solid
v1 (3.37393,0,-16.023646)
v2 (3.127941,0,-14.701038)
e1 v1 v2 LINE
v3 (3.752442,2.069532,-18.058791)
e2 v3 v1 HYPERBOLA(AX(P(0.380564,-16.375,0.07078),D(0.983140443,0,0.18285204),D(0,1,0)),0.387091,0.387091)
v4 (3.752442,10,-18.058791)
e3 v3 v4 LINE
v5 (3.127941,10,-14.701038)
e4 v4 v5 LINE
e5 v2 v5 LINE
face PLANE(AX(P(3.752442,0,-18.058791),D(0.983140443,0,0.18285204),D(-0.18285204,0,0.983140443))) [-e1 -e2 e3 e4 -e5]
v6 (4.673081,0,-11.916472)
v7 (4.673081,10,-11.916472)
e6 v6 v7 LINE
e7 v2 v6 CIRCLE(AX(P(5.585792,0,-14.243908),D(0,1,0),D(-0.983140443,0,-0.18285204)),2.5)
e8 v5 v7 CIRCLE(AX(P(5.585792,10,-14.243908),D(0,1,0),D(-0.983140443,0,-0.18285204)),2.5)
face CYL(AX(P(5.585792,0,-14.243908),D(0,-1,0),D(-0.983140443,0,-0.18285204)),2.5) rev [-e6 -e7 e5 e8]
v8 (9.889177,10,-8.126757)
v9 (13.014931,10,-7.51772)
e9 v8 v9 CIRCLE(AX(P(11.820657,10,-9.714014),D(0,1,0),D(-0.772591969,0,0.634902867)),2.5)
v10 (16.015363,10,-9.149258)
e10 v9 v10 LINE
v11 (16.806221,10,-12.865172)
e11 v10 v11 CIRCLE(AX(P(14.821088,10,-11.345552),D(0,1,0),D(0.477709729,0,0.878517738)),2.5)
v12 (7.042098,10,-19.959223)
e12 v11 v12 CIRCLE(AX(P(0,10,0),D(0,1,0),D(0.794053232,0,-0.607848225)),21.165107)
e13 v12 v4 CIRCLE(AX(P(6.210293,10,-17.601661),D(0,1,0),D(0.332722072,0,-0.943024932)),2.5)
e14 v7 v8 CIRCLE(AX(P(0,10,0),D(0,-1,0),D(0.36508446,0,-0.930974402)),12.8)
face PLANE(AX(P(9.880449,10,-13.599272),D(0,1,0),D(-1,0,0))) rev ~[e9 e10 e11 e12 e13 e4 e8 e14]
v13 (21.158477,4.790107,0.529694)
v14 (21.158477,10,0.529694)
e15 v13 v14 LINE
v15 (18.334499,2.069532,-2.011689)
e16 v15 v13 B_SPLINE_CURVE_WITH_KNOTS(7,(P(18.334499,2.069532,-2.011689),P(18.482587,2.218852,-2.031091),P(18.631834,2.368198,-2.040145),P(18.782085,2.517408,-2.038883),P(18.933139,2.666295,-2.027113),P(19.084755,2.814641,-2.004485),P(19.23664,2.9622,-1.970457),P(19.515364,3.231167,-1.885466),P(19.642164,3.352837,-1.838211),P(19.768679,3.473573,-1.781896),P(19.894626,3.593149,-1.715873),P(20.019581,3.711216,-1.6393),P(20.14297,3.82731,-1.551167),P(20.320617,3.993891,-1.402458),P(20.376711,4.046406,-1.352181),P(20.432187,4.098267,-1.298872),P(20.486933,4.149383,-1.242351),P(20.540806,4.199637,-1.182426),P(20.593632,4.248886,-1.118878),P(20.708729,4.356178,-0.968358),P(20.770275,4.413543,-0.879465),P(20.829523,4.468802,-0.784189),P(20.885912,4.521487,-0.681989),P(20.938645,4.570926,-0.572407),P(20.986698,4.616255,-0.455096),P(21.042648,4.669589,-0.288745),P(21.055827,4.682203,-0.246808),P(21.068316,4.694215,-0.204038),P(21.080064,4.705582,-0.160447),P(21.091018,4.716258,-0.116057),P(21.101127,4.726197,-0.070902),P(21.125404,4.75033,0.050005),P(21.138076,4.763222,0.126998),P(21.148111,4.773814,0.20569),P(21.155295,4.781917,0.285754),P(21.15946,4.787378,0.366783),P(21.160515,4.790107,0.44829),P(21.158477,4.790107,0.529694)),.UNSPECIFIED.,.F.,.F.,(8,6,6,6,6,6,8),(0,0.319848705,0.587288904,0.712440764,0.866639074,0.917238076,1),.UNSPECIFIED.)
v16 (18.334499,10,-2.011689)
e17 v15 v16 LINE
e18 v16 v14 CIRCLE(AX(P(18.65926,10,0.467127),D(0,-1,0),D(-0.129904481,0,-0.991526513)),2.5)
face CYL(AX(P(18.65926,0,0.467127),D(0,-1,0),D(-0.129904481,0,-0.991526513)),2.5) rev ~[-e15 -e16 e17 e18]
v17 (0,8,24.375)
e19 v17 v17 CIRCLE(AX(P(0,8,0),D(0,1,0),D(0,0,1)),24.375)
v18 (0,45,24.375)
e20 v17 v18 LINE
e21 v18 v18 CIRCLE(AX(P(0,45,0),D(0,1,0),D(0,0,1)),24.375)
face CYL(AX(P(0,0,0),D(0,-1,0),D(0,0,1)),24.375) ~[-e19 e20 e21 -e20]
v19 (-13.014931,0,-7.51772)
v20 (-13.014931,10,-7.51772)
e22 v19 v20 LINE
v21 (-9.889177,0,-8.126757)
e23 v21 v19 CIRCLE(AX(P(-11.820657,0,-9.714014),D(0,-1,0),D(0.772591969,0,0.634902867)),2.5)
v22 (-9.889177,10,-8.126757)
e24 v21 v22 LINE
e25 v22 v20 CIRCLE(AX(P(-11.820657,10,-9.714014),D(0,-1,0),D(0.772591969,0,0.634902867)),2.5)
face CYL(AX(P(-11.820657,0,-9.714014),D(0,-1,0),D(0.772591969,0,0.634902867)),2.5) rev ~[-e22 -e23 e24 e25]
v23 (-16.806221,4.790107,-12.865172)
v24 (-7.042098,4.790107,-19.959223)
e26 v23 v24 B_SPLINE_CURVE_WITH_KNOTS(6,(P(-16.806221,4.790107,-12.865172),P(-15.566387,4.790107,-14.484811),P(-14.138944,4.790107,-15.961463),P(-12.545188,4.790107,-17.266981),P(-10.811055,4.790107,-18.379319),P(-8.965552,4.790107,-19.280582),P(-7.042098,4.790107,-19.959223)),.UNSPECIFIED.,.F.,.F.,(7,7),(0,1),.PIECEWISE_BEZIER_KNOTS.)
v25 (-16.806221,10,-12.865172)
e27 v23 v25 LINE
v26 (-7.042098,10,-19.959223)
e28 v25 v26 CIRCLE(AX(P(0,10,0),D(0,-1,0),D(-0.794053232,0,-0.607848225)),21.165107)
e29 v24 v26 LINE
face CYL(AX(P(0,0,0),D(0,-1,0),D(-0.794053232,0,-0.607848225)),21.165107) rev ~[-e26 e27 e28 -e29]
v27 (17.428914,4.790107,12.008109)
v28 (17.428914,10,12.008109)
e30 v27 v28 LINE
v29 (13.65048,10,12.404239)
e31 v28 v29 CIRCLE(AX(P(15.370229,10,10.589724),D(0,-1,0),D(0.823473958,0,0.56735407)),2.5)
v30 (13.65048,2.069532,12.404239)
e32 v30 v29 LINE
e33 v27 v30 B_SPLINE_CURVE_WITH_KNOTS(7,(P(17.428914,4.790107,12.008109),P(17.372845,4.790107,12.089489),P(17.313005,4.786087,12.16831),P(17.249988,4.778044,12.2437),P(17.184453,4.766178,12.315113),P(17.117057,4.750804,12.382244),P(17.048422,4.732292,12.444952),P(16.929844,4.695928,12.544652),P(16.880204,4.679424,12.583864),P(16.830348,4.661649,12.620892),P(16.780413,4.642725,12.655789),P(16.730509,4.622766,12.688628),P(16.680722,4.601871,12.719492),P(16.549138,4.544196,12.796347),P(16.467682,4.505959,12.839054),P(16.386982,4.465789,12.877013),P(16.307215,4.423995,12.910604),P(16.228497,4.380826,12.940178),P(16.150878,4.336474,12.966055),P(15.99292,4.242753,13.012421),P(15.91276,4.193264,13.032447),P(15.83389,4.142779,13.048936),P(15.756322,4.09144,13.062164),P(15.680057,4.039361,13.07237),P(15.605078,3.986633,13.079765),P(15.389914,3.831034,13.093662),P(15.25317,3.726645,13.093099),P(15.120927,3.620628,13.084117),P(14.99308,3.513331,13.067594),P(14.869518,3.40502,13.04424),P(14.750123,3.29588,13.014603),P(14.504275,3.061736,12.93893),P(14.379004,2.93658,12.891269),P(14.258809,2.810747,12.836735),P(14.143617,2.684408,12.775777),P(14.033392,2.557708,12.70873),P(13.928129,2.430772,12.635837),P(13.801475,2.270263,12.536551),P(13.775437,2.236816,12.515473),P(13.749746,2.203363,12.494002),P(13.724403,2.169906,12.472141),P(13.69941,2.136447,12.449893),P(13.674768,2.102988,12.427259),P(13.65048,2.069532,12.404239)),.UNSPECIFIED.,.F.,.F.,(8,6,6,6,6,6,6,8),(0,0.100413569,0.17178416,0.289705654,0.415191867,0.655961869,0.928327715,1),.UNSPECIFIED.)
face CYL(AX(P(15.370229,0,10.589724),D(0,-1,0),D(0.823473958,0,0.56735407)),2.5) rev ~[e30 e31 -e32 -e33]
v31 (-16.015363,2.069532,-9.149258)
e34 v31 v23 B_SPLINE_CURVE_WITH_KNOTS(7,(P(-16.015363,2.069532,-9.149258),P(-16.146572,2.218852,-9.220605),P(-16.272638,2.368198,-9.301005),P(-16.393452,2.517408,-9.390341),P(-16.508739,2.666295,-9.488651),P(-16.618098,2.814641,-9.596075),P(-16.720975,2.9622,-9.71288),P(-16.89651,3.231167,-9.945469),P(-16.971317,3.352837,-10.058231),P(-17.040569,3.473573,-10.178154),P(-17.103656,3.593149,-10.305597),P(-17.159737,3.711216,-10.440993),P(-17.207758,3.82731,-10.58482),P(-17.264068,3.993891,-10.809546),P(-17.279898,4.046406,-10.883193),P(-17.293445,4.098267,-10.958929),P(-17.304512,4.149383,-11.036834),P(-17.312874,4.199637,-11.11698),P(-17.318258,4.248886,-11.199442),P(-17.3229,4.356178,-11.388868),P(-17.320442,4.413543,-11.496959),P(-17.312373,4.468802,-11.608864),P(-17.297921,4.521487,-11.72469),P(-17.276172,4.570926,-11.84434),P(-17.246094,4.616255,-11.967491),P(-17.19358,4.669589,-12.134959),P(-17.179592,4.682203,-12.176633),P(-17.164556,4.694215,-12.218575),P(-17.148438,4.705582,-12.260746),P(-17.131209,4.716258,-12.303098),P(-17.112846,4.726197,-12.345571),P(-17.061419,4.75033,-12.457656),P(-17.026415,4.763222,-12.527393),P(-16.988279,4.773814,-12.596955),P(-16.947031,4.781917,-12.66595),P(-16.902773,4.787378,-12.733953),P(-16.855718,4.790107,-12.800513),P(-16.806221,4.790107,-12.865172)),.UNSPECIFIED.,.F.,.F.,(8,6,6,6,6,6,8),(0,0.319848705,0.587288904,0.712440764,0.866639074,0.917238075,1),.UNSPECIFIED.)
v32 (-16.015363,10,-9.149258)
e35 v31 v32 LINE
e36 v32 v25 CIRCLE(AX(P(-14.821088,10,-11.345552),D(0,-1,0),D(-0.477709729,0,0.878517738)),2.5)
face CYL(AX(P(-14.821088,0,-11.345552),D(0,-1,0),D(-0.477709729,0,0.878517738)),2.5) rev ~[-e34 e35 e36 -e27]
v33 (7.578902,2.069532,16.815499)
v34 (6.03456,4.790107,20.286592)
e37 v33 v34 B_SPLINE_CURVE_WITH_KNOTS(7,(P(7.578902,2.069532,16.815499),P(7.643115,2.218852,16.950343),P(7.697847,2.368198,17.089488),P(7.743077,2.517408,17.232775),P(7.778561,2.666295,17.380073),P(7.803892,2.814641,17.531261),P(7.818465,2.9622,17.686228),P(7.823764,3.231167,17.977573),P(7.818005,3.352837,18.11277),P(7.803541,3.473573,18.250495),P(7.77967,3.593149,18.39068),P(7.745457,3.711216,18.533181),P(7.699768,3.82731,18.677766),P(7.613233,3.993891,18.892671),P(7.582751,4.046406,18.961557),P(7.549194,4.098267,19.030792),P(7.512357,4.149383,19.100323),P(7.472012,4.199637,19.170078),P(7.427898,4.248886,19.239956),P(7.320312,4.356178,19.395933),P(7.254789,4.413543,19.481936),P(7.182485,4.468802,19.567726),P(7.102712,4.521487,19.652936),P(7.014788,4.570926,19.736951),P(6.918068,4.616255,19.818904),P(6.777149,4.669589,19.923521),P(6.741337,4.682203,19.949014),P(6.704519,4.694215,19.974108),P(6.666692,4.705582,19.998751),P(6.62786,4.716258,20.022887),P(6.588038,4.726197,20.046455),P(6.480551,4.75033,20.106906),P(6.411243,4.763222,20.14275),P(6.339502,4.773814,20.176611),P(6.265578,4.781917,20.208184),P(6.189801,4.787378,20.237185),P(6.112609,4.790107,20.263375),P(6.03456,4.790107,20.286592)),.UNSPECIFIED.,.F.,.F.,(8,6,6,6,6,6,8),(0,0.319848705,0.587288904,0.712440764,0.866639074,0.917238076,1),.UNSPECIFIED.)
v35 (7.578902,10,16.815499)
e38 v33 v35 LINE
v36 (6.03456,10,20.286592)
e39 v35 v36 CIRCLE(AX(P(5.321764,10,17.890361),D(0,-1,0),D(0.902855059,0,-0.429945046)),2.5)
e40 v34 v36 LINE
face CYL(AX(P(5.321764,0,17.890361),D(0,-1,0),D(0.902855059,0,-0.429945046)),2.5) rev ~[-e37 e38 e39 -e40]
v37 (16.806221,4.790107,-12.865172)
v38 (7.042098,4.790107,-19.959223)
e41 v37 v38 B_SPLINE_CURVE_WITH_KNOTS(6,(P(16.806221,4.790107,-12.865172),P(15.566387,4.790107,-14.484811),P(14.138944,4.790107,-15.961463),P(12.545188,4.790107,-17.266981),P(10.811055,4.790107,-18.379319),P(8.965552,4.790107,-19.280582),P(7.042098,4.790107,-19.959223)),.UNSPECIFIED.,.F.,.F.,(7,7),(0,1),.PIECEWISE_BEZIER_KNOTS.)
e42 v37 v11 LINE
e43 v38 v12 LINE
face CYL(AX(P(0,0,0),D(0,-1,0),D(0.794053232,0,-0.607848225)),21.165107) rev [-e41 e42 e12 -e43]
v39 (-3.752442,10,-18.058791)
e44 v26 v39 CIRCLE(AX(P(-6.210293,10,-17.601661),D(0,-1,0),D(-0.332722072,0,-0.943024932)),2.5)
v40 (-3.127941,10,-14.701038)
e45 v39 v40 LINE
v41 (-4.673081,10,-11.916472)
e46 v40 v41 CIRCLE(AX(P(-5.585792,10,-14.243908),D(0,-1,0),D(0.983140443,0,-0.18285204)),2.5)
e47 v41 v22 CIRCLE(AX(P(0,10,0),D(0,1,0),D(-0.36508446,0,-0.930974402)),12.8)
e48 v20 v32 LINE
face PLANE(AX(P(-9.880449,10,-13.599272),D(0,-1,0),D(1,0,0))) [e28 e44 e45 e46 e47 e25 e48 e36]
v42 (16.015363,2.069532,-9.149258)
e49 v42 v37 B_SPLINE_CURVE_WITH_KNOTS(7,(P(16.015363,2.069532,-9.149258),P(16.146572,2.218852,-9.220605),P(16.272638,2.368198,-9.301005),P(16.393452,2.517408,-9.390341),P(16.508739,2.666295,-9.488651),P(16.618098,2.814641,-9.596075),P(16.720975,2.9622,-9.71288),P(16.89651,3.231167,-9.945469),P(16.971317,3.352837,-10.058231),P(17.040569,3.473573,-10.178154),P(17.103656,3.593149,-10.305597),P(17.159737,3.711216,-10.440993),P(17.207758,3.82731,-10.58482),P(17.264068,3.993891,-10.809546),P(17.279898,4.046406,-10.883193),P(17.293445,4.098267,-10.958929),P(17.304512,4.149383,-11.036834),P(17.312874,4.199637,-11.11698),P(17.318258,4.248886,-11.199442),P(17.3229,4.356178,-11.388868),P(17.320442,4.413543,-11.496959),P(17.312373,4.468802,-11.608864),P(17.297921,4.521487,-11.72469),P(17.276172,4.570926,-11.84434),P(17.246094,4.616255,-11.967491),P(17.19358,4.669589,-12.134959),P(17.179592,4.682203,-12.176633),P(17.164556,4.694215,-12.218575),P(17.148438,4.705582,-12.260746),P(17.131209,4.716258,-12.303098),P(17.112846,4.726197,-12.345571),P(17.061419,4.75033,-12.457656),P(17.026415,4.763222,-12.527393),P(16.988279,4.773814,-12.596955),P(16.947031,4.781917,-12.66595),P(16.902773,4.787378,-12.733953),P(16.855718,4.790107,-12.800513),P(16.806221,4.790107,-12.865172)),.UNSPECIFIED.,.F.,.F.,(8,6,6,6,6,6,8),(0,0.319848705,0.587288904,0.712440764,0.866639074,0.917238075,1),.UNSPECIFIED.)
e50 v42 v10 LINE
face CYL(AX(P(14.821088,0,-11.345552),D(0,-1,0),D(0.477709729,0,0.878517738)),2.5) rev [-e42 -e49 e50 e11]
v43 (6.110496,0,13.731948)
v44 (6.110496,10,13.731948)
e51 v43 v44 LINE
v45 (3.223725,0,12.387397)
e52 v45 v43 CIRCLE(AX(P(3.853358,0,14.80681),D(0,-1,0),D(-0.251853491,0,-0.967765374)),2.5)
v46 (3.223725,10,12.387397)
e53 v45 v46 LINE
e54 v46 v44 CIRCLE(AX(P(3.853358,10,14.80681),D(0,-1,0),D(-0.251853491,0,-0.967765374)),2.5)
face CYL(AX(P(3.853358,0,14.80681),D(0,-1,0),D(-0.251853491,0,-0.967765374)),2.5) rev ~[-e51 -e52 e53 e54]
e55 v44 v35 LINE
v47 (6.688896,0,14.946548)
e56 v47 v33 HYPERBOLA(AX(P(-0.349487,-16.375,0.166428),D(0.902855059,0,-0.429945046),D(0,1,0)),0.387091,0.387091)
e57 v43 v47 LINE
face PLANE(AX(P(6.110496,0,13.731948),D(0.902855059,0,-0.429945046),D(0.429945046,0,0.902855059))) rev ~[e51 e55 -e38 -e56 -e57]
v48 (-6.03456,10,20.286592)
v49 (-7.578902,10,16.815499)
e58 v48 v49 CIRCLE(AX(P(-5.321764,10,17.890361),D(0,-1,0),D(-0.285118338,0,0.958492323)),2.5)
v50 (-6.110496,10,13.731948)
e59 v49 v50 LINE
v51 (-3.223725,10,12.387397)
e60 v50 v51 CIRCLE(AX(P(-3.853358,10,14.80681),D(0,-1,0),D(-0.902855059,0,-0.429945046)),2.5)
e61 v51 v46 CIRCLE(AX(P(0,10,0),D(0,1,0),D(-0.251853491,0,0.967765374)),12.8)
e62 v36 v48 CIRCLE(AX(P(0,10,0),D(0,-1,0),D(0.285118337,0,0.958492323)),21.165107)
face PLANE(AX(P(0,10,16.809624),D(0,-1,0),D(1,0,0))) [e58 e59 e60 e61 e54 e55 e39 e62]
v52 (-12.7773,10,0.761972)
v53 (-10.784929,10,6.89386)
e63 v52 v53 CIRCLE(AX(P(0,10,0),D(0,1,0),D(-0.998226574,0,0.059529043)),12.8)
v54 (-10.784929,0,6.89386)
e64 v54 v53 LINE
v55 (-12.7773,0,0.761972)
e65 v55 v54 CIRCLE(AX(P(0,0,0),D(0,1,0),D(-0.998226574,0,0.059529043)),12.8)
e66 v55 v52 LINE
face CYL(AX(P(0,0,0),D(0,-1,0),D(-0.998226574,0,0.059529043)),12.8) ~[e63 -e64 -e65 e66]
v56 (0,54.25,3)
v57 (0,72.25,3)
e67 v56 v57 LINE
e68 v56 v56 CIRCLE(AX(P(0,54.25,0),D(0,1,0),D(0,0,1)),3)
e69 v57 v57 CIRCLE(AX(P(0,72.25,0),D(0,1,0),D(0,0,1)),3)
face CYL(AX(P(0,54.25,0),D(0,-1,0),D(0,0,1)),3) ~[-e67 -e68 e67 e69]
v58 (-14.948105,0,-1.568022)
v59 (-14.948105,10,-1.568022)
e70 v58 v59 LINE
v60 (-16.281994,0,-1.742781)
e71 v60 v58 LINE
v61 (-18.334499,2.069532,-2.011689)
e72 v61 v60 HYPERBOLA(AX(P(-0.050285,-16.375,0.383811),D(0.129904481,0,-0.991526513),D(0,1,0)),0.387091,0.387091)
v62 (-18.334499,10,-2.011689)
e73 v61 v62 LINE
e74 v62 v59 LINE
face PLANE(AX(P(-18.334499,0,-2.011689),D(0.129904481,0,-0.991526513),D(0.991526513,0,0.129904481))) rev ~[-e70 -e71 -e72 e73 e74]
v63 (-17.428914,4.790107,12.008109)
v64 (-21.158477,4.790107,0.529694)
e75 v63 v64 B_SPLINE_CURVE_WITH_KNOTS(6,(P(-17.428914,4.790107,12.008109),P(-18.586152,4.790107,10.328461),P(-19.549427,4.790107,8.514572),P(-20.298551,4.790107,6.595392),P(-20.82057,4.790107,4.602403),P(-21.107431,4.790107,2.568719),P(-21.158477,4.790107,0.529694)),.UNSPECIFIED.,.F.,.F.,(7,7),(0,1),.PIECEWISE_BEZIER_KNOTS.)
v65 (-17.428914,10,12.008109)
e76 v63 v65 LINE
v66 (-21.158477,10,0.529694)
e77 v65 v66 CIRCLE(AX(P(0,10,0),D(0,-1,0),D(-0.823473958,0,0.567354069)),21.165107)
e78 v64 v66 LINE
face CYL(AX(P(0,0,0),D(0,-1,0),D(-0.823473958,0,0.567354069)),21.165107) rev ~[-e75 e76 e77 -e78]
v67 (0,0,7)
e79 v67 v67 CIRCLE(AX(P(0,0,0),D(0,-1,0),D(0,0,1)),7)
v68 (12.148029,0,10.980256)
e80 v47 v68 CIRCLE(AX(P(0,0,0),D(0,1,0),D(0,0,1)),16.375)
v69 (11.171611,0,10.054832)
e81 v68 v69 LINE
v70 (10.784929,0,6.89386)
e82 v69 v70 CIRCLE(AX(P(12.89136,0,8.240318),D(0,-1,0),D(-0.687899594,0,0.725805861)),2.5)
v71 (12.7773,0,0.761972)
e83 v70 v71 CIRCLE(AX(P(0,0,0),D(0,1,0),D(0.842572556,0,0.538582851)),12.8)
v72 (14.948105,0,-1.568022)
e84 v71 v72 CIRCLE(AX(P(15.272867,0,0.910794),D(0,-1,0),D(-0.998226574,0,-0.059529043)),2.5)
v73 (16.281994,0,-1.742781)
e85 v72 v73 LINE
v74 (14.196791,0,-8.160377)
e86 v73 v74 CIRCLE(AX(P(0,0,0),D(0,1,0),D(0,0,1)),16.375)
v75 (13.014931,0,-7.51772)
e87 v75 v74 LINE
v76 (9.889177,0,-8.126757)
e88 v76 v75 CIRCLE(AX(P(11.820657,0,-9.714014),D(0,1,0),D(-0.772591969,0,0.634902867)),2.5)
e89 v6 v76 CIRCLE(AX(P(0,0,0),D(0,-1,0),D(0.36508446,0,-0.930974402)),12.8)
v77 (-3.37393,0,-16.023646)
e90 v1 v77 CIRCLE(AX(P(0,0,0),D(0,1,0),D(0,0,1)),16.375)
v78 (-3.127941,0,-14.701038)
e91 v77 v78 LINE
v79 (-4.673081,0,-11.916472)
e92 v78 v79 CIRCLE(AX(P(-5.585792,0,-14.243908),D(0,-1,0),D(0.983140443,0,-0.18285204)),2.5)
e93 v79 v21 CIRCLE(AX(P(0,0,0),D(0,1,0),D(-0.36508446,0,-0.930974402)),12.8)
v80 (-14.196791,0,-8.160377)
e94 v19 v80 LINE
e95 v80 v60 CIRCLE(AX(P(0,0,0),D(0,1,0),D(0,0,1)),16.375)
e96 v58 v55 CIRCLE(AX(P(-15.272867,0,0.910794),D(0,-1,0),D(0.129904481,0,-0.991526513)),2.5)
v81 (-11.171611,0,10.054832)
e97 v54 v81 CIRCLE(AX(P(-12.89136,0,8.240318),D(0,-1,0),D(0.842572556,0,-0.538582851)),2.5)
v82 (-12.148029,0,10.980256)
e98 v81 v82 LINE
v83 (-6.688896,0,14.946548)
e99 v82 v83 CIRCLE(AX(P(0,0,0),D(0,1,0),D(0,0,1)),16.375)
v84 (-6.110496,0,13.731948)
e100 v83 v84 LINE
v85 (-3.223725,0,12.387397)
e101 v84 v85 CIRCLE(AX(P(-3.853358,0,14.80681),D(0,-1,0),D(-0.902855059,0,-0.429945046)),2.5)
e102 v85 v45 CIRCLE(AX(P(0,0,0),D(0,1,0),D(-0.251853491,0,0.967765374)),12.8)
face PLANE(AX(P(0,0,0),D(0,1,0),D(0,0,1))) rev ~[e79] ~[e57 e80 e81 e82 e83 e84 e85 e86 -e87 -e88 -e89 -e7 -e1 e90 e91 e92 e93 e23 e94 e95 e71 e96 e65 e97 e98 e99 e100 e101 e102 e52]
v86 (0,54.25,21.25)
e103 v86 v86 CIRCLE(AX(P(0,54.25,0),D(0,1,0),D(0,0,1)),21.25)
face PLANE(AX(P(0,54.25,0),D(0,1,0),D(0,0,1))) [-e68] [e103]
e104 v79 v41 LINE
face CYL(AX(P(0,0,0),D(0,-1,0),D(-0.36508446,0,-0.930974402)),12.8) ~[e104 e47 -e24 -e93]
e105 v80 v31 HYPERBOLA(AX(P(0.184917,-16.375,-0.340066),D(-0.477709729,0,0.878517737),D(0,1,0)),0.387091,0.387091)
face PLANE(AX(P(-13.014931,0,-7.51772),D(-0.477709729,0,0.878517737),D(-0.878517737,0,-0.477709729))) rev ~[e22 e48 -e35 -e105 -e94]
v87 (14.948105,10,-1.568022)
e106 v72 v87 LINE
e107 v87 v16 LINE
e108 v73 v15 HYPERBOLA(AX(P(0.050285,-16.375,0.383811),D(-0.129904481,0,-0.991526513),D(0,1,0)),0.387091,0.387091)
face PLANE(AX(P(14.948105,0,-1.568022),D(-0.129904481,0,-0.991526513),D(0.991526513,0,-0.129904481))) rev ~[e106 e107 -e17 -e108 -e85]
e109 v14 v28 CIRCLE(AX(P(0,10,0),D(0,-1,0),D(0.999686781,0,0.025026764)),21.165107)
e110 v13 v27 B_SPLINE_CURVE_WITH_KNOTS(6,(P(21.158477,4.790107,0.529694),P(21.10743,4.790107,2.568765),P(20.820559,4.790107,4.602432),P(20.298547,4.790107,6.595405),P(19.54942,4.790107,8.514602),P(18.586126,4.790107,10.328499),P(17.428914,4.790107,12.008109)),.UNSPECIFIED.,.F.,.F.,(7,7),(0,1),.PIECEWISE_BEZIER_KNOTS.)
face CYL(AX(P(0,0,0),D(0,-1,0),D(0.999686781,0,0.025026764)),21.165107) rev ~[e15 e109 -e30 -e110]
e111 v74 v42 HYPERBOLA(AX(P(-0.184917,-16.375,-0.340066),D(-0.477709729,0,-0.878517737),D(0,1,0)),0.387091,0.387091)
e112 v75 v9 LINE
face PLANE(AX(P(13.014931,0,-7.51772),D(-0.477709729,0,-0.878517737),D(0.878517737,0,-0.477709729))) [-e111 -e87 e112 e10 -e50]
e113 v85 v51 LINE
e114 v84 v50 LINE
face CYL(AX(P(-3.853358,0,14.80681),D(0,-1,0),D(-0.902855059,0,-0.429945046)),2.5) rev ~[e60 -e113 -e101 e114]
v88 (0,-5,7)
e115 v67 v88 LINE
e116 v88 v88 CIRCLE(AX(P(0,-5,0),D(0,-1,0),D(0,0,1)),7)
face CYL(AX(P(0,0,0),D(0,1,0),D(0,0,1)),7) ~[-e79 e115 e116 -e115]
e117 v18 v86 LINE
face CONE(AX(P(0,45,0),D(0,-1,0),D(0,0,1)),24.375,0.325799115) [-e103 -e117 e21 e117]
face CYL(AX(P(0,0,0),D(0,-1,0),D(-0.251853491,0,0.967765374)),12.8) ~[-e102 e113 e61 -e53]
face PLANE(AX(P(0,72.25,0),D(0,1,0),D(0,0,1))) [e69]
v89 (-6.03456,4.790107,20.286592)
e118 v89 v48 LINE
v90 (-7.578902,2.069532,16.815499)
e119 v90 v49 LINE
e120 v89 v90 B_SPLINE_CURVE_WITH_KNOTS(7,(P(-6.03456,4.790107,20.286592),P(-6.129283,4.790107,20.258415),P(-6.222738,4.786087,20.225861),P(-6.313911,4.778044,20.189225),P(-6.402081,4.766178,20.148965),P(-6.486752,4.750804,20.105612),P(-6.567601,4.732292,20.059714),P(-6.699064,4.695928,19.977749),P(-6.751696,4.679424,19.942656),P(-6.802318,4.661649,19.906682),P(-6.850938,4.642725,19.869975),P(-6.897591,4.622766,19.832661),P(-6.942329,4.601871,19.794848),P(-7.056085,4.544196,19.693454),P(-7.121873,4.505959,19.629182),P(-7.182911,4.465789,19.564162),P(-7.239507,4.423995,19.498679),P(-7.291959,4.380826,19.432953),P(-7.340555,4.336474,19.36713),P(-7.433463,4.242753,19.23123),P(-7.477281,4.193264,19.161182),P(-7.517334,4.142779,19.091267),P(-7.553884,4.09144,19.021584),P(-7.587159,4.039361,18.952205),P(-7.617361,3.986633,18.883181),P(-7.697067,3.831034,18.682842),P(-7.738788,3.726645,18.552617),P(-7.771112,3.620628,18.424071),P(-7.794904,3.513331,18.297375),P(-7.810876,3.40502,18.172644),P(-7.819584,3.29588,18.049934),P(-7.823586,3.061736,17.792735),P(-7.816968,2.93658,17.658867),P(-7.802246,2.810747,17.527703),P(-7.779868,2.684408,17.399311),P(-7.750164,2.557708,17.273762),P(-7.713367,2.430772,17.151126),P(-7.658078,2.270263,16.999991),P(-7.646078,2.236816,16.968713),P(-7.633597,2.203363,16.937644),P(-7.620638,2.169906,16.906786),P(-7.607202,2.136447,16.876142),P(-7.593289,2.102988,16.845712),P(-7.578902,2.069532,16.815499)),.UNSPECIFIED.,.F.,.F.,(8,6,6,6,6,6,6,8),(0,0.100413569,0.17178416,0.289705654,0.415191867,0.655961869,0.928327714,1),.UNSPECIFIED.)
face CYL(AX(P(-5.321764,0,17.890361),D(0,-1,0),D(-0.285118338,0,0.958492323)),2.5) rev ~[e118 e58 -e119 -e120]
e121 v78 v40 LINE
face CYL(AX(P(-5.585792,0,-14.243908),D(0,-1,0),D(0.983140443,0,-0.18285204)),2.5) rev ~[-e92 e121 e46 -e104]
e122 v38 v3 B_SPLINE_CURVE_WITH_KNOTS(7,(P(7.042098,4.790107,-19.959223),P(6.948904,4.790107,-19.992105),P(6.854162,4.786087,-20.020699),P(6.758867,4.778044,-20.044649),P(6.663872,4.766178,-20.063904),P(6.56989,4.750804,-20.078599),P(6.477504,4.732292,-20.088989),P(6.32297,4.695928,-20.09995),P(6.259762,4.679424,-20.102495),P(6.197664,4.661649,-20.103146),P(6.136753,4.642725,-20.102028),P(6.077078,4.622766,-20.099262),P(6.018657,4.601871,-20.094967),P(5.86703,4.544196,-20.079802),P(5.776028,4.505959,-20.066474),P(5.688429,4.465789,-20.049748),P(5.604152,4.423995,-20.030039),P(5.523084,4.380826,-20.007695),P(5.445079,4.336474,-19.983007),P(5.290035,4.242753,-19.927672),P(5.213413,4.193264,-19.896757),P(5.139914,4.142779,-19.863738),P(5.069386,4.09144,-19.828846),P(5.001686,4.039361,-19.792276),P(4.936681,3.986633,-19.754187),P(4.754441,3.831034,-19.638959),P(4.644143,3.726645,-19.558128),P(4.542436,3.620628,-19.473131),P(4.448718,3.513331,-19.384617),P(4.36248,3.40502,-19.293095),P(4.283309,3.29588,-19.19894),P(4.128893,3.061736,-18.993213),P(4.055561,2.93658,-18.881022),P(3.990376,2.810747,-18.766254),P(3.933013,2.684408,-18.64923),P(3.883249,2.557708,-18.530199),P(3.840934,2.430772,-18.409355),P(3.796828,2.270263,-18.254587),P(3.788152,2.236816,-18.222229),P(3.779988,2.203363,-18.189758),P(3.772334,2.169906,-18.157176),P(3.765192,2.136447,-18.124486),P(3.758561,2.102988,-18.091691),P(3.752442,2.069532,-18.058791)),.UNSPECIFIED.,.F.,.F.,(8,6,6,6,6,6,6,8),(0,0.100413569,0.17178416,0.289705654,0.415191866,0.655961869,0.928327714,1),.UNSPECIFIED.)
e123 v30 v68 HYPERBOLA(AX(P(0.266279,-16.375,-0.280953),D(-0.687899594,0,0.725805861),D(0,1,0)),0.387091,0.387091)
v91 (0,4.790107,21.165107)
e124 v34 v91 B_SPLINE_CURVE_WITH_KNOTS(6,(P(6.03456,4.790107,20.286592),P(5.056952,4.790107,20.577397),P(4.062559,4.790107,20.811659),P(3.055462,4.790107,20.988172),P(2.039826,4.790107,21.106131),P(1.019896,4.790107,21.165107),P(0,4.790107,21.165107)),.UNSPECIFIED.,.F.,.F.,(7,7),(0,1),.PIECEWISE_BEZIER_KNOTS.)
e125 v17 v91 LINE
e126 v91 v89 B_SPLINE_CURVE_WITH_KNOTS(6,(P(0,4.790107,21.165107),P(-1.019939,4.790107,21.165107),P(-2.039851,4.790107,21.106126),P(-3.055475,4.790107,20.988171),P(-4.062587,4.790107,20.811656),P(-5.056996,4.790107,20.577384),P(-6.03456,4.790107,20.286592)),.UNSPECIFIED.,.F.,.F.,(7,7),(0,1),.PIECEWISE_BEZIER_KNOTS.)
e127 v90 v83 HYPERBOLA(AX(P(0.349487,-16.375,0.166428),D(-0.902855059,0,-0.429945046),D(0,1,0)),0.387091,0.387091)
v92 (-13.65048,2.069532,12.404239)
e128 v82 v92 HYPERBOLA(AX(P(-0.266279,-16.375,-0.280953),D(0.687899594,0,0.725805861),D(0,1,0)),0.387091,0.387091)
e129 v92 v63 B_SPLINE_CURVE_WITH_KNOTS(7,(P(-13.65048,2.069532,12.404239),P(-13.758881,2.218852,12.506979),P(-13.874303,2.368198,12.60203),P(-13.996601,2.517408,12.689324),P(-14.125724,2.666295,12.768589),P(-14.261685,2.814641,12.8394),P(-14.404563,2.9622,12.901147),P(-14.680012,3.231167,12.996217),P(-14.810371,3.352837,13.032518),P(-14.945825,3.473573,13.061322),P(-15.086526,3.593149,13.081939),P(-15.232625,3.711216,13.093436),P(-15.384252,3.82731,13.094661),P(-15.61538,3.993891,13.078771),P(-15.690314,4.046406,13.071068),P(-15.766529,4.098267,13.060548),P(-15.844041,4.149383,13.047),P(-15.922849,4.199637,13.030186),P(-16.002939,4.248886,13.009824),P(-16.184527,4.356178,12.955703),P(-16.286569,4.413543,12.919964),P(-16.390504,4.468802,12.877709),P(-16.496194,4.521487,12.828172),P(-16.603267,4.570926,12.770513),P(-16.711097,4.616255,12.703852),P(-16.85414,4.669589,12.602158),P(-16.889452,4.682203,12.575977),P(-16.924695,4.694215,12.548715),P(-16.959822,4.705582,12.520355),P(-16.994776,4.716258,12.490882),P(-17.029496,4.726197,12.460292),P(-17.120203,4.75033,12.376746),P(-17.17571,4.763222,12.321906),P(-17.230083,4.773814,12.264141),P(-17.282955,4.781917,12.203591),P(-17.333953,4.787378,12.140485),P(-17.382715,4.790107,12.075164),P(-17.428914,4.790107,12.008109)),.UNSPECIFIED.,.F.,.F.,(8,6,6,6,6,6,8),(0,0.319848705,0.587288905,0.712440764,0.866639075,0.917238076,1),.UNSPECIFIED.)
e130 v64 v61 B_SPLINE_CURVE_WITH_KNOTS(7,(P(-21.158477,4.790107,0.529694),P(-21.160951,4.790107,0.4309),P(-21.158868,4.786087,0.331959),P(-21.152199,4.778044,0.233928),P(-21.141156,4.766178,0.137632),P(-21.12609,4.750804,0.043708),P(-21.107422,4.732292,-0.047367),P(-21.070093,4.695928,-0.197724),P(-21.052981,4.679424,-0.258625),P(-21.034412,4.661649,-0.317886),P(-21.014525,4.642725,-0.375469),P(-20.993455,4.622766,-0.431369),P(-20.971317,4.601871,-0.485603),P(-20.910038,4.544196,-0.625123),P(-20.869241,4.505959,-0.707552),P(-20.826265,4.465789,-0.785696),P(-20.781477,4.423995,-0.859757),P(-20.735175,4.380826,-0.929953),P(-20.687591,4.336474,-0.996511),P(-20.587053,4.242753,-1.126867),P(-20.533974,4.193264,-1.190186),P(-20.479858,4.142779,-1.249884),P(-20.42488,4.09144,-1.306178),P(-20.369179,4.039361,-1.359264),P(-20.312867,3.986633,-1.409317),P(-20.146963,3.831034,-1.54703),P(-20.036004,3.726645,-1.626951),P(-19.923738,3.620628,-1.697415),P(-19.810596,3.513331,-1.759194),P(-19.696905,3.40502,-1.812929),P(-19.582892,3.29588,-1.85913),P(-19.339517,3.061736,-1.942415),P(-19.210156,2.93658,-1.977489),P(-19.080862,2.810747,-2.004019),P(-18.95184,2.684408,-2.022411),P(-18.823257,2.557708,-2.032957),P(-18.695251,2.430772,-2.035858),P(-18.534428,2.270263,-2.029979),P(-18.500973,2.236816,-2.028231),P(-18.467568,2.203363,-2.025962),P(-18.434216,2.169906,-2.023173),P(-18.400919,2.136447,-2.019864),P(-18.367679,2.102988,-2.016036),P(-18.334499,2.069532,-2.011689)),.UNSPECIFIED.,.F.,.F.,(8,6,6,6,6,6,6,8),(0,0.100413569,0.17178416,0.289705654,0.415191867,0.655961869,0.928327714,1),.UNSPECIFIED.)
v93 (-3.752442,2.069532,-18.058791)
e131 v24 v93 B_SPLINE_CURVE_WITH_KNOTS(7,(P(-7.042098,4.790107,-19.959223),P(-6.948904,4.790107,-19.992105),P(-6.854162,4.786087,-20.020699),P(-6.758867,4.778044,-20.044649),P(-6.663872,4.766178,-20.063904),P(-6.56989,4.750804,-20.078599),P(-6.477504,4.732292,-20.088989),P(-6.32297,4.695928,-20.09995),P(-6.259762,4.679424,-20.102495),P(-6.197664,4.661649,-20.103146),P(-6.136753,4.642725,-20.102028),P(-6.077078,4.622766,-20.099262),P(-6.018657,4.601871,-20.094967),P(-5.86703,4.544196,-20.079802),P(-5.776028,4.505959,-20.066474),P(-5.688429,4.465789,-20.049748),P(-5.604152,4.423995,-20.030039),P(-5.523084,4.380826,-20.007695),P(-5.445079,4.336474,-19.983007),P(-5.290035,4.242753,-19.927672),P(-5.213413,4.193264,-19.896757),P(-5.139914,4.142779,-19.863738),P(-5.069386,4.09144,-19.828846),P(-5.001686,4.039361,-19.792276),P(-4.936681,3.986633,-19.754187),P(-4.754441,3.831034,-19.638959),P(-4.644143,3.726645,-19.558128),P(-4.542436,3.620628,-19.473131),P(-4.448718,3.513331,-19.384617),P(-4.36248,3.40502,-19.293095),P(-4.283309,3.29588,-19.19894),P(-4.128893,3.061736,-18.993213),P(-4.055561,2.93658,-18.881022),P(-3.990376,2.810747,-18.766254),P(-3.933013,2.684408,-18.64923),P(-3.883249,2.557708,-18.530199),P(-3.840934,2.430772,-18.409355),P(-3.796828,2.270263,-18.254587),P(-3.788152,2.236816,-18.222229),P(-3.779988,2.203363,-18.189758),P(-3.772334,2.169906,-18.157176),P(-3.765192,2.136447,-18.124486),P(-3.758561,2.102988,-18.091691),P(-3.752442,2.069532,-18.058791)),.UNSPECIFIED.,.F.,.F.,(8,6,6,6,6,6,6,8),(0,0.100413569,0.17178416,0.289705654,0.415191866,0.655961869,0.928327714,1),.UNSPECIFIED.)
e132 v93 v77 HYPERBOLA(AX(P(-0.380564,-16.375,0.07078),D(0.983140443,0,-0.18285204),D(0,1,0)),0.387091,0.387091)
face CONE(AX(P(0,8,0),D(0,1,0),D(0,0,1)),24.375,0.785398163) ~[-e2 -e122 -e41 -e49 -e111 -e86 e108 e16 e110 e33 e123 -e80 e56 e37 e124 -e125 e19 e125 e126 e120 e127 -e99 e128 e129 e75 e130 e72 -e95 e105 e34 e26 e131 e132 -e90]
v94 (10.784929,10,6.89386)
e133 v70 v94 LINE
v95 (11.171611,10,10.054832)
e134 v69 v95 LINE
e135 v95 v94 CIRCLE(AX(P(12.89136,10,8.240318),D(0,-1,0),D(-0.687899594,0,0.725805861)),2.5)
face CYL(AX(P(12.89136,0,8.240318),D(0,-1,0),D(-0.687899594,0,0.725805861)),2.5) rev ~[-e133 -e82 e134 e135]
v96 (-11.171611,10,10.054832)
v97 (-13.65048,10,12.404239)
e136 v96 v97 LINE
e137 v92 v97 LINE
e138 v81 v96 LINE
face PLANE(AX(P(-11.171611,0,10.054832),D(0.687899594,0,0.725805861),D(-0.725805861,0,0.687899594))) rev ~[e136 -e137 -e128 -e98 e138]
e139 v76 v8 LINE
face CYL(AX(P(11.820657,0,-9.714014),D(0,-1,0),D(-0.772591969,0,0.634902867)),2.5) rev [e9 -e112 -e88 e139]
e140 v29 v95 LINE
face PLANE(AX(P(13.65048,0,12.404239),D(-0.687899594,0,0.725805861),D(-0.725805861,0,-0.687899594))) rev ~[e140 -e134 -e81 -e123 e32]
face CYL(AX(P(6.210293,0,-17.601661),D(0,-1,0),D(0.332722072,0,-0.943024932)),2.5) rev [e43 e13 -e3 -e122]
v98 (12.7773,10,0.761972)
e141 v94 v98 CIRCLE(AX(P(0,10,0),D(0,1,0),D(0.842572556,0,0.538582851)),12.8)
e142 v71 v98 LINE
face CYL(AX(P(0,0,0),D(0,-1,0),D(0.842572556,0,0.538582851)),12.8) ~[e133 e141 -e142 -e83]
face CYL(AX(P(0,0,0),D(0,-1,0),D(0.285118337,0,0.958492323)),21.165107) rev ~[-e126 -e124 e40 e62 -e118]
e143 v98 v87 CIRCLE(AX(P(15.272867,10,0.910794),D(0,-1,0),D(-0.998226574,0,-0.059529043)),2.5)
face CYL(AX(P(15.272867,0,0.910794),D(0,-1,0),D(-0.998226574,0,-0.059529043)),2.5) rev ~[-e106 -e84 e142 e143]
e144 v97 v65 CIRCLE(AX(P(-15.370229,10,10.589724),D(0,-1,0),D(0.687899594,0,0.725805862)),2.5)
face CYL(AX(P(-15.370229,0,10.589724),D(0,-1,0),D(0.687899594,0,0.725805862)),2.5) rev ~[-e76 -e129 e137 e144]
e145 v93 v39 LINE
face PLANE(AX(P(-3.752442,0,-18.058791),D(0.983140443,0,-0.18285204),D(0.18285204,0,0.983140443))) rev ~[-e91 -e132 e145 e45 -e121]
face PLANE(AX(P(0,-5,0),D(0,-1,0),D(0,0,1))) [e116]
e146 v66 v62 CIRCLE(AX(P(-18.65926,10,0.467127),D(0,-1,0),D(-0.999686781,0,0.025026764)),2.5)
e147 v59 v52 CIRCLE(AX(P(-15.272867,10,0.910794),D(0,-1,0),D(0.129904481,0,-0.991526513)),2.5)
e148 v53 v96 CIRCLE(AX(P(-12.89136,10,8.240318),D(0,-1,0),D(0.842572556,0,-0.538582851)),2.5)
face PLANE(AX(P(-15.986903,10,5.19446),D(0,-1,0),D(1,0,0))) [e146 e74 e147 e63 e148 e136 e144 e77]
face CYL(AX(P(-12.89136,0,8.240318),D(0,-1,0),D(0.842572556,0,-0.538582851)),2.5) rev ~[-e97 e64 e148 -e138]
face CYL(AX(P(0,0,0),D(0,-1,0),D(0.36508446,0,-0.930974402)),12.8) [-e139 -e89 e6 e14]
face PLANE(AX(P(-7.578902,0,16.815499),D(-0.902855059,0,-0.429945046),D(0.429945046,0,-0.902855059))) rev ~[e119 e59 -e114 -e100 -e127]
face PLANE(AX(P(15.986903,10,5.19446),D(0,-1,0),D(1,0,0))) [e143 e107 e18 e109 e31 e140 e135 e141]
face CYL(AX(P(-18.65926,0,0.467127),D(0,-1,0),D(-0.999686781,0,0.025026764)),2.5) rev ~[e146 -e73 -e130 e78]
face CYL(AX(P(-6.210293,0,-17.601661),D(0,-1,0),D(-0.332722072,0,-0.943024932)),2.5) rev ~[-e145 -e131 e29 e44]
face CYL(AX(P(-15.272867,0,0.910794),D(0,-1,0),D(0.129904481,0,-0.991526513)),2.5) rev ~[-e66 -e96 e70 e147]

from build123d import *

# Parameters (mm, degrees)
SKETCH1_R           = 24.375
BOSS_EXTRUDE1_DEPTH = 54.25
CHAMFER1_SIZE       = 9.25
CHAMFER1_SIZE2      = 3.125
CHAMFER2_SIZE       = 8
CUT_EXTRUDE1_DEPTH  = 10
SKETCH3_R           = 7
BOSS_EXTRUDE2_DEPTH = 5
SKETCH4_R           = 3
BOSS_EXTRUDE3_DEPTH = 18


with BuildPart() as part:
    # Sketch1 → Boss-Extrude1 (new body)
    with BuildSketch(Plane(origin=(0, 0, 0), x_dir=(1, 0, 0), z_dir=(0, 1, 0))):
        with Locations(Location((0, 0, 0), (0, 0, 270))):
            Circle(SKETCH1_R)
    extrude(amount=BOSS_EXTRUDE1_DEPTH)

    # Chamfer1
    chamfer1_edges = [part.edges().sort_by_distance(p)[0] for p in [
        (0, 54.25, -24.375),
    ]]
    chamfer1_side = [part.faces().sort_by_distance(p)[0] for p in [
        (0, 27.125, -24.375),
    ]]
    chamfer(chamfer1_edges, length=CHAMFER1_SIZE, length2=CHAMFER1_SIZE2, reference=chamfer1_side[0])

    # Chamfer2
    chamfer2_edges = [part.edges().sort_by_distance(p)[0] for p in [
        (0, 0, -24.375),
    ]]
    chamfer(chamfer2_edges, length=CHAMFER2_SIZE)

    # Sketch2 → Cut-Extrude1 (cut)
    with BuildSketch(Plane.XZ):
        with BuildLine():
            Line((-3.752441842, -18.058791036), (-3.127941128, -14.70103845))
            ThreePointArc((-3.127941128, -14.70103845), (-3.399785699, -13.030905705), (-4.673081087, -11.916472345))
            ThreePointArc((-4.673081087, -11.916472345), (-7.523651229, -10.355417528), (-9.889177203, -8.126756686))
            ThreePointArc((-9.889177203, -8.126756686), (-11.342536225, -7.260159658), (-13.014931448, -7.517719508))
            Line((-13.014931448, -7.517719508), (-16.015362591, -9.149257594))
            ThreePointArc((-16.015362591, -9.149257594), (-17.266321132, -10.825132639), (-16.80622135, -12.865172499))
            ThreePointArc((-16.80622135, -12.865172499), (-12.440537552, -17.122930967), (-7.04209813, -19.959223267))
            ThreePointArc((-7.04209813, -19.959223267), (-4.959726276, -19.766397177), (-3.752441842, -18.058791036))
        make_face()
        with BuildLine():
            Line((-18.33449919, -2.011689062), (-14.94810538, -1.568021924))
            ThreePointArc((-14.94810538, -1.568021924), (-13.443719342, -0.793382972), (-12.777300147, 0.761971751))
            ThreePointArc((-12.777300147, 0.761971751), (-12.173523409, 3.955417528), (-10.784928719, 6.893860495))
            ThreePointArc((-10.784928719, 6.893860495), (-10.409858605, 8.543880272), (-11.171611124, 10.054832276))
            Line((-11.171611124, 10.054832276), (-13.650480266, 12.404238871))
            ThreePointArc((-13.650480266, 12.404238871), (-15.630899596, 13.076097273), (-17.428914147, 12.008109392))
            ThreePointArc((-17.428914147, 12.008109392), (-20.129212597, 6.540377643), (-21.158477347, 0.529694131))
            ThreePointArc((-21.158477347, 0.529694131), (-20.331600546, -1.391172651), (-18.33449919, -2.011689062))
        make_face()
        with BuildLine():
            Line((3.752441842, -18.058791036), (3.127941128, -14.70103845))
            ThreePointArc((3.127941128, -14.70103845), (3.399785699, -13.030905705), (4.673081087, -11.916472345))
            ThreePointArc((4.673081087, -11.916472345), (7.523651229, -10.355417528), (9.889177203, -8.126756686))
            ThreePointArc((9.889177203, -8.126756686), (11.342536225, -7.260159658), (13.014931448, -7.517719508))
            Line((13.014931448, -7.517719508), (16.015362591, -9.149257594))
            ThreePointArc((16.015362591, -9.149257594), (17.266321132, -10.825132639), (16.80622135, -12.865172499))
            ThreePointArc((16.80622135, -12.865172499), (12.440537552, -17.122930967), (7.04209813, -19.959223267))
            ThreePointArc((7.04209813, -19.959223267), (4.959726276, -19.766397177), (3.752441842, -18.058791036))
        make_face()
        with BuildLine():
            Line((-7.578901824, 16.815498821), (-6.110496064, 13.731947606))
            ThreePointArc((-6.110496064, 13.731947606), (-4.908889789, 12.540568062), (-3.223724689, 12.387396786))
            ThreePointArc((-3.223724689, 12.387396786), (0, 12.8), (3.223724689, 12.387396786))
            ThreePointArc((3.223724689, 12.387396786), (4.908889789, 12.540568062), (6.110496064, 13.731947606))
            Line((6.110496064, 13.731947606), (7.578901824, 16.815498821))
            ThreePointArc((7.578901824, 16.815498821), (7.605893907, 18.906605194), (6.034560021, 20.286592244))
            ThreePointArc((6.034560021, 20.286592244), (0, 21.16510665), (-6.034560021, 20.286592244))
            ThreePointArc((-6.034560021, 20.286592244), (-7.605893907, 18.906605194), (-7.578901824, 16.815498821))
        make_face()
        with BuildLine():
            Line((13.650480266, 12.404238871), (11.171611124, 10.054832276))
            ThreePointArc((11.171611124, 10.054832276), (10.409858605, 8.543880272), (10.784928719, 6.893860495))
            ThreePointArc((10.784928719, 6.893860495), (12.173523409, 3.955417528), (12.777300147, 0.761971751))
            ThreePointArc((12.777300147, 0.761971751), (13.443719342, -0.793382972), (14.94810538, -1.568021924))
            Line((14.94810538, -1.568021924), (18.33449919, -2.011689062))
            ThreePointArc((18.33449919, -2.011689062), (20.331600546, -1.391172651), (21.158477347, 0.529694131))
            ThreePointArc((21.158477347, 0.529694131), (20.129212597, 6.540377643), (17.428914147, 12.008109392))
            ThreePointArc((17.428914147, 12.008109392), (15.630899596, 13.076097273), (13.650480266, 12.404238871))
        make_face()
    extrude(amount=-CUT_EXTRUDE1_DEPTH, mode=Mode.SUBTRACT)

    # Sketch3 → Boss-Extrude2 (add)
    with BuildSketch(Plane(origin=(0, 0, 0), x_dir=(-1, 0, 0), z_dir=(0, -1, 0))):
        with Locations(Location((0, 0, 0), (0, 0, 270))):
            Circle(SKETCH3_R)
    extrude(amount=BOSS_EXTRUDE2_DEPTH)

    # Sketch4 → Boss-Extrude3 (add)
    with BuildSketch(Plane(origin=(0, 54.25, 0), x_dir=(1, 0, 0), z_dir=(0, 1, 0))):
        with Locations(Location((0, 0, 0), (0, 0, 270))):
            Circle(SKETCH4_R)
    extrude(amount=BOSS_EXTRUDE3_DEPTH)


solid = part.part
